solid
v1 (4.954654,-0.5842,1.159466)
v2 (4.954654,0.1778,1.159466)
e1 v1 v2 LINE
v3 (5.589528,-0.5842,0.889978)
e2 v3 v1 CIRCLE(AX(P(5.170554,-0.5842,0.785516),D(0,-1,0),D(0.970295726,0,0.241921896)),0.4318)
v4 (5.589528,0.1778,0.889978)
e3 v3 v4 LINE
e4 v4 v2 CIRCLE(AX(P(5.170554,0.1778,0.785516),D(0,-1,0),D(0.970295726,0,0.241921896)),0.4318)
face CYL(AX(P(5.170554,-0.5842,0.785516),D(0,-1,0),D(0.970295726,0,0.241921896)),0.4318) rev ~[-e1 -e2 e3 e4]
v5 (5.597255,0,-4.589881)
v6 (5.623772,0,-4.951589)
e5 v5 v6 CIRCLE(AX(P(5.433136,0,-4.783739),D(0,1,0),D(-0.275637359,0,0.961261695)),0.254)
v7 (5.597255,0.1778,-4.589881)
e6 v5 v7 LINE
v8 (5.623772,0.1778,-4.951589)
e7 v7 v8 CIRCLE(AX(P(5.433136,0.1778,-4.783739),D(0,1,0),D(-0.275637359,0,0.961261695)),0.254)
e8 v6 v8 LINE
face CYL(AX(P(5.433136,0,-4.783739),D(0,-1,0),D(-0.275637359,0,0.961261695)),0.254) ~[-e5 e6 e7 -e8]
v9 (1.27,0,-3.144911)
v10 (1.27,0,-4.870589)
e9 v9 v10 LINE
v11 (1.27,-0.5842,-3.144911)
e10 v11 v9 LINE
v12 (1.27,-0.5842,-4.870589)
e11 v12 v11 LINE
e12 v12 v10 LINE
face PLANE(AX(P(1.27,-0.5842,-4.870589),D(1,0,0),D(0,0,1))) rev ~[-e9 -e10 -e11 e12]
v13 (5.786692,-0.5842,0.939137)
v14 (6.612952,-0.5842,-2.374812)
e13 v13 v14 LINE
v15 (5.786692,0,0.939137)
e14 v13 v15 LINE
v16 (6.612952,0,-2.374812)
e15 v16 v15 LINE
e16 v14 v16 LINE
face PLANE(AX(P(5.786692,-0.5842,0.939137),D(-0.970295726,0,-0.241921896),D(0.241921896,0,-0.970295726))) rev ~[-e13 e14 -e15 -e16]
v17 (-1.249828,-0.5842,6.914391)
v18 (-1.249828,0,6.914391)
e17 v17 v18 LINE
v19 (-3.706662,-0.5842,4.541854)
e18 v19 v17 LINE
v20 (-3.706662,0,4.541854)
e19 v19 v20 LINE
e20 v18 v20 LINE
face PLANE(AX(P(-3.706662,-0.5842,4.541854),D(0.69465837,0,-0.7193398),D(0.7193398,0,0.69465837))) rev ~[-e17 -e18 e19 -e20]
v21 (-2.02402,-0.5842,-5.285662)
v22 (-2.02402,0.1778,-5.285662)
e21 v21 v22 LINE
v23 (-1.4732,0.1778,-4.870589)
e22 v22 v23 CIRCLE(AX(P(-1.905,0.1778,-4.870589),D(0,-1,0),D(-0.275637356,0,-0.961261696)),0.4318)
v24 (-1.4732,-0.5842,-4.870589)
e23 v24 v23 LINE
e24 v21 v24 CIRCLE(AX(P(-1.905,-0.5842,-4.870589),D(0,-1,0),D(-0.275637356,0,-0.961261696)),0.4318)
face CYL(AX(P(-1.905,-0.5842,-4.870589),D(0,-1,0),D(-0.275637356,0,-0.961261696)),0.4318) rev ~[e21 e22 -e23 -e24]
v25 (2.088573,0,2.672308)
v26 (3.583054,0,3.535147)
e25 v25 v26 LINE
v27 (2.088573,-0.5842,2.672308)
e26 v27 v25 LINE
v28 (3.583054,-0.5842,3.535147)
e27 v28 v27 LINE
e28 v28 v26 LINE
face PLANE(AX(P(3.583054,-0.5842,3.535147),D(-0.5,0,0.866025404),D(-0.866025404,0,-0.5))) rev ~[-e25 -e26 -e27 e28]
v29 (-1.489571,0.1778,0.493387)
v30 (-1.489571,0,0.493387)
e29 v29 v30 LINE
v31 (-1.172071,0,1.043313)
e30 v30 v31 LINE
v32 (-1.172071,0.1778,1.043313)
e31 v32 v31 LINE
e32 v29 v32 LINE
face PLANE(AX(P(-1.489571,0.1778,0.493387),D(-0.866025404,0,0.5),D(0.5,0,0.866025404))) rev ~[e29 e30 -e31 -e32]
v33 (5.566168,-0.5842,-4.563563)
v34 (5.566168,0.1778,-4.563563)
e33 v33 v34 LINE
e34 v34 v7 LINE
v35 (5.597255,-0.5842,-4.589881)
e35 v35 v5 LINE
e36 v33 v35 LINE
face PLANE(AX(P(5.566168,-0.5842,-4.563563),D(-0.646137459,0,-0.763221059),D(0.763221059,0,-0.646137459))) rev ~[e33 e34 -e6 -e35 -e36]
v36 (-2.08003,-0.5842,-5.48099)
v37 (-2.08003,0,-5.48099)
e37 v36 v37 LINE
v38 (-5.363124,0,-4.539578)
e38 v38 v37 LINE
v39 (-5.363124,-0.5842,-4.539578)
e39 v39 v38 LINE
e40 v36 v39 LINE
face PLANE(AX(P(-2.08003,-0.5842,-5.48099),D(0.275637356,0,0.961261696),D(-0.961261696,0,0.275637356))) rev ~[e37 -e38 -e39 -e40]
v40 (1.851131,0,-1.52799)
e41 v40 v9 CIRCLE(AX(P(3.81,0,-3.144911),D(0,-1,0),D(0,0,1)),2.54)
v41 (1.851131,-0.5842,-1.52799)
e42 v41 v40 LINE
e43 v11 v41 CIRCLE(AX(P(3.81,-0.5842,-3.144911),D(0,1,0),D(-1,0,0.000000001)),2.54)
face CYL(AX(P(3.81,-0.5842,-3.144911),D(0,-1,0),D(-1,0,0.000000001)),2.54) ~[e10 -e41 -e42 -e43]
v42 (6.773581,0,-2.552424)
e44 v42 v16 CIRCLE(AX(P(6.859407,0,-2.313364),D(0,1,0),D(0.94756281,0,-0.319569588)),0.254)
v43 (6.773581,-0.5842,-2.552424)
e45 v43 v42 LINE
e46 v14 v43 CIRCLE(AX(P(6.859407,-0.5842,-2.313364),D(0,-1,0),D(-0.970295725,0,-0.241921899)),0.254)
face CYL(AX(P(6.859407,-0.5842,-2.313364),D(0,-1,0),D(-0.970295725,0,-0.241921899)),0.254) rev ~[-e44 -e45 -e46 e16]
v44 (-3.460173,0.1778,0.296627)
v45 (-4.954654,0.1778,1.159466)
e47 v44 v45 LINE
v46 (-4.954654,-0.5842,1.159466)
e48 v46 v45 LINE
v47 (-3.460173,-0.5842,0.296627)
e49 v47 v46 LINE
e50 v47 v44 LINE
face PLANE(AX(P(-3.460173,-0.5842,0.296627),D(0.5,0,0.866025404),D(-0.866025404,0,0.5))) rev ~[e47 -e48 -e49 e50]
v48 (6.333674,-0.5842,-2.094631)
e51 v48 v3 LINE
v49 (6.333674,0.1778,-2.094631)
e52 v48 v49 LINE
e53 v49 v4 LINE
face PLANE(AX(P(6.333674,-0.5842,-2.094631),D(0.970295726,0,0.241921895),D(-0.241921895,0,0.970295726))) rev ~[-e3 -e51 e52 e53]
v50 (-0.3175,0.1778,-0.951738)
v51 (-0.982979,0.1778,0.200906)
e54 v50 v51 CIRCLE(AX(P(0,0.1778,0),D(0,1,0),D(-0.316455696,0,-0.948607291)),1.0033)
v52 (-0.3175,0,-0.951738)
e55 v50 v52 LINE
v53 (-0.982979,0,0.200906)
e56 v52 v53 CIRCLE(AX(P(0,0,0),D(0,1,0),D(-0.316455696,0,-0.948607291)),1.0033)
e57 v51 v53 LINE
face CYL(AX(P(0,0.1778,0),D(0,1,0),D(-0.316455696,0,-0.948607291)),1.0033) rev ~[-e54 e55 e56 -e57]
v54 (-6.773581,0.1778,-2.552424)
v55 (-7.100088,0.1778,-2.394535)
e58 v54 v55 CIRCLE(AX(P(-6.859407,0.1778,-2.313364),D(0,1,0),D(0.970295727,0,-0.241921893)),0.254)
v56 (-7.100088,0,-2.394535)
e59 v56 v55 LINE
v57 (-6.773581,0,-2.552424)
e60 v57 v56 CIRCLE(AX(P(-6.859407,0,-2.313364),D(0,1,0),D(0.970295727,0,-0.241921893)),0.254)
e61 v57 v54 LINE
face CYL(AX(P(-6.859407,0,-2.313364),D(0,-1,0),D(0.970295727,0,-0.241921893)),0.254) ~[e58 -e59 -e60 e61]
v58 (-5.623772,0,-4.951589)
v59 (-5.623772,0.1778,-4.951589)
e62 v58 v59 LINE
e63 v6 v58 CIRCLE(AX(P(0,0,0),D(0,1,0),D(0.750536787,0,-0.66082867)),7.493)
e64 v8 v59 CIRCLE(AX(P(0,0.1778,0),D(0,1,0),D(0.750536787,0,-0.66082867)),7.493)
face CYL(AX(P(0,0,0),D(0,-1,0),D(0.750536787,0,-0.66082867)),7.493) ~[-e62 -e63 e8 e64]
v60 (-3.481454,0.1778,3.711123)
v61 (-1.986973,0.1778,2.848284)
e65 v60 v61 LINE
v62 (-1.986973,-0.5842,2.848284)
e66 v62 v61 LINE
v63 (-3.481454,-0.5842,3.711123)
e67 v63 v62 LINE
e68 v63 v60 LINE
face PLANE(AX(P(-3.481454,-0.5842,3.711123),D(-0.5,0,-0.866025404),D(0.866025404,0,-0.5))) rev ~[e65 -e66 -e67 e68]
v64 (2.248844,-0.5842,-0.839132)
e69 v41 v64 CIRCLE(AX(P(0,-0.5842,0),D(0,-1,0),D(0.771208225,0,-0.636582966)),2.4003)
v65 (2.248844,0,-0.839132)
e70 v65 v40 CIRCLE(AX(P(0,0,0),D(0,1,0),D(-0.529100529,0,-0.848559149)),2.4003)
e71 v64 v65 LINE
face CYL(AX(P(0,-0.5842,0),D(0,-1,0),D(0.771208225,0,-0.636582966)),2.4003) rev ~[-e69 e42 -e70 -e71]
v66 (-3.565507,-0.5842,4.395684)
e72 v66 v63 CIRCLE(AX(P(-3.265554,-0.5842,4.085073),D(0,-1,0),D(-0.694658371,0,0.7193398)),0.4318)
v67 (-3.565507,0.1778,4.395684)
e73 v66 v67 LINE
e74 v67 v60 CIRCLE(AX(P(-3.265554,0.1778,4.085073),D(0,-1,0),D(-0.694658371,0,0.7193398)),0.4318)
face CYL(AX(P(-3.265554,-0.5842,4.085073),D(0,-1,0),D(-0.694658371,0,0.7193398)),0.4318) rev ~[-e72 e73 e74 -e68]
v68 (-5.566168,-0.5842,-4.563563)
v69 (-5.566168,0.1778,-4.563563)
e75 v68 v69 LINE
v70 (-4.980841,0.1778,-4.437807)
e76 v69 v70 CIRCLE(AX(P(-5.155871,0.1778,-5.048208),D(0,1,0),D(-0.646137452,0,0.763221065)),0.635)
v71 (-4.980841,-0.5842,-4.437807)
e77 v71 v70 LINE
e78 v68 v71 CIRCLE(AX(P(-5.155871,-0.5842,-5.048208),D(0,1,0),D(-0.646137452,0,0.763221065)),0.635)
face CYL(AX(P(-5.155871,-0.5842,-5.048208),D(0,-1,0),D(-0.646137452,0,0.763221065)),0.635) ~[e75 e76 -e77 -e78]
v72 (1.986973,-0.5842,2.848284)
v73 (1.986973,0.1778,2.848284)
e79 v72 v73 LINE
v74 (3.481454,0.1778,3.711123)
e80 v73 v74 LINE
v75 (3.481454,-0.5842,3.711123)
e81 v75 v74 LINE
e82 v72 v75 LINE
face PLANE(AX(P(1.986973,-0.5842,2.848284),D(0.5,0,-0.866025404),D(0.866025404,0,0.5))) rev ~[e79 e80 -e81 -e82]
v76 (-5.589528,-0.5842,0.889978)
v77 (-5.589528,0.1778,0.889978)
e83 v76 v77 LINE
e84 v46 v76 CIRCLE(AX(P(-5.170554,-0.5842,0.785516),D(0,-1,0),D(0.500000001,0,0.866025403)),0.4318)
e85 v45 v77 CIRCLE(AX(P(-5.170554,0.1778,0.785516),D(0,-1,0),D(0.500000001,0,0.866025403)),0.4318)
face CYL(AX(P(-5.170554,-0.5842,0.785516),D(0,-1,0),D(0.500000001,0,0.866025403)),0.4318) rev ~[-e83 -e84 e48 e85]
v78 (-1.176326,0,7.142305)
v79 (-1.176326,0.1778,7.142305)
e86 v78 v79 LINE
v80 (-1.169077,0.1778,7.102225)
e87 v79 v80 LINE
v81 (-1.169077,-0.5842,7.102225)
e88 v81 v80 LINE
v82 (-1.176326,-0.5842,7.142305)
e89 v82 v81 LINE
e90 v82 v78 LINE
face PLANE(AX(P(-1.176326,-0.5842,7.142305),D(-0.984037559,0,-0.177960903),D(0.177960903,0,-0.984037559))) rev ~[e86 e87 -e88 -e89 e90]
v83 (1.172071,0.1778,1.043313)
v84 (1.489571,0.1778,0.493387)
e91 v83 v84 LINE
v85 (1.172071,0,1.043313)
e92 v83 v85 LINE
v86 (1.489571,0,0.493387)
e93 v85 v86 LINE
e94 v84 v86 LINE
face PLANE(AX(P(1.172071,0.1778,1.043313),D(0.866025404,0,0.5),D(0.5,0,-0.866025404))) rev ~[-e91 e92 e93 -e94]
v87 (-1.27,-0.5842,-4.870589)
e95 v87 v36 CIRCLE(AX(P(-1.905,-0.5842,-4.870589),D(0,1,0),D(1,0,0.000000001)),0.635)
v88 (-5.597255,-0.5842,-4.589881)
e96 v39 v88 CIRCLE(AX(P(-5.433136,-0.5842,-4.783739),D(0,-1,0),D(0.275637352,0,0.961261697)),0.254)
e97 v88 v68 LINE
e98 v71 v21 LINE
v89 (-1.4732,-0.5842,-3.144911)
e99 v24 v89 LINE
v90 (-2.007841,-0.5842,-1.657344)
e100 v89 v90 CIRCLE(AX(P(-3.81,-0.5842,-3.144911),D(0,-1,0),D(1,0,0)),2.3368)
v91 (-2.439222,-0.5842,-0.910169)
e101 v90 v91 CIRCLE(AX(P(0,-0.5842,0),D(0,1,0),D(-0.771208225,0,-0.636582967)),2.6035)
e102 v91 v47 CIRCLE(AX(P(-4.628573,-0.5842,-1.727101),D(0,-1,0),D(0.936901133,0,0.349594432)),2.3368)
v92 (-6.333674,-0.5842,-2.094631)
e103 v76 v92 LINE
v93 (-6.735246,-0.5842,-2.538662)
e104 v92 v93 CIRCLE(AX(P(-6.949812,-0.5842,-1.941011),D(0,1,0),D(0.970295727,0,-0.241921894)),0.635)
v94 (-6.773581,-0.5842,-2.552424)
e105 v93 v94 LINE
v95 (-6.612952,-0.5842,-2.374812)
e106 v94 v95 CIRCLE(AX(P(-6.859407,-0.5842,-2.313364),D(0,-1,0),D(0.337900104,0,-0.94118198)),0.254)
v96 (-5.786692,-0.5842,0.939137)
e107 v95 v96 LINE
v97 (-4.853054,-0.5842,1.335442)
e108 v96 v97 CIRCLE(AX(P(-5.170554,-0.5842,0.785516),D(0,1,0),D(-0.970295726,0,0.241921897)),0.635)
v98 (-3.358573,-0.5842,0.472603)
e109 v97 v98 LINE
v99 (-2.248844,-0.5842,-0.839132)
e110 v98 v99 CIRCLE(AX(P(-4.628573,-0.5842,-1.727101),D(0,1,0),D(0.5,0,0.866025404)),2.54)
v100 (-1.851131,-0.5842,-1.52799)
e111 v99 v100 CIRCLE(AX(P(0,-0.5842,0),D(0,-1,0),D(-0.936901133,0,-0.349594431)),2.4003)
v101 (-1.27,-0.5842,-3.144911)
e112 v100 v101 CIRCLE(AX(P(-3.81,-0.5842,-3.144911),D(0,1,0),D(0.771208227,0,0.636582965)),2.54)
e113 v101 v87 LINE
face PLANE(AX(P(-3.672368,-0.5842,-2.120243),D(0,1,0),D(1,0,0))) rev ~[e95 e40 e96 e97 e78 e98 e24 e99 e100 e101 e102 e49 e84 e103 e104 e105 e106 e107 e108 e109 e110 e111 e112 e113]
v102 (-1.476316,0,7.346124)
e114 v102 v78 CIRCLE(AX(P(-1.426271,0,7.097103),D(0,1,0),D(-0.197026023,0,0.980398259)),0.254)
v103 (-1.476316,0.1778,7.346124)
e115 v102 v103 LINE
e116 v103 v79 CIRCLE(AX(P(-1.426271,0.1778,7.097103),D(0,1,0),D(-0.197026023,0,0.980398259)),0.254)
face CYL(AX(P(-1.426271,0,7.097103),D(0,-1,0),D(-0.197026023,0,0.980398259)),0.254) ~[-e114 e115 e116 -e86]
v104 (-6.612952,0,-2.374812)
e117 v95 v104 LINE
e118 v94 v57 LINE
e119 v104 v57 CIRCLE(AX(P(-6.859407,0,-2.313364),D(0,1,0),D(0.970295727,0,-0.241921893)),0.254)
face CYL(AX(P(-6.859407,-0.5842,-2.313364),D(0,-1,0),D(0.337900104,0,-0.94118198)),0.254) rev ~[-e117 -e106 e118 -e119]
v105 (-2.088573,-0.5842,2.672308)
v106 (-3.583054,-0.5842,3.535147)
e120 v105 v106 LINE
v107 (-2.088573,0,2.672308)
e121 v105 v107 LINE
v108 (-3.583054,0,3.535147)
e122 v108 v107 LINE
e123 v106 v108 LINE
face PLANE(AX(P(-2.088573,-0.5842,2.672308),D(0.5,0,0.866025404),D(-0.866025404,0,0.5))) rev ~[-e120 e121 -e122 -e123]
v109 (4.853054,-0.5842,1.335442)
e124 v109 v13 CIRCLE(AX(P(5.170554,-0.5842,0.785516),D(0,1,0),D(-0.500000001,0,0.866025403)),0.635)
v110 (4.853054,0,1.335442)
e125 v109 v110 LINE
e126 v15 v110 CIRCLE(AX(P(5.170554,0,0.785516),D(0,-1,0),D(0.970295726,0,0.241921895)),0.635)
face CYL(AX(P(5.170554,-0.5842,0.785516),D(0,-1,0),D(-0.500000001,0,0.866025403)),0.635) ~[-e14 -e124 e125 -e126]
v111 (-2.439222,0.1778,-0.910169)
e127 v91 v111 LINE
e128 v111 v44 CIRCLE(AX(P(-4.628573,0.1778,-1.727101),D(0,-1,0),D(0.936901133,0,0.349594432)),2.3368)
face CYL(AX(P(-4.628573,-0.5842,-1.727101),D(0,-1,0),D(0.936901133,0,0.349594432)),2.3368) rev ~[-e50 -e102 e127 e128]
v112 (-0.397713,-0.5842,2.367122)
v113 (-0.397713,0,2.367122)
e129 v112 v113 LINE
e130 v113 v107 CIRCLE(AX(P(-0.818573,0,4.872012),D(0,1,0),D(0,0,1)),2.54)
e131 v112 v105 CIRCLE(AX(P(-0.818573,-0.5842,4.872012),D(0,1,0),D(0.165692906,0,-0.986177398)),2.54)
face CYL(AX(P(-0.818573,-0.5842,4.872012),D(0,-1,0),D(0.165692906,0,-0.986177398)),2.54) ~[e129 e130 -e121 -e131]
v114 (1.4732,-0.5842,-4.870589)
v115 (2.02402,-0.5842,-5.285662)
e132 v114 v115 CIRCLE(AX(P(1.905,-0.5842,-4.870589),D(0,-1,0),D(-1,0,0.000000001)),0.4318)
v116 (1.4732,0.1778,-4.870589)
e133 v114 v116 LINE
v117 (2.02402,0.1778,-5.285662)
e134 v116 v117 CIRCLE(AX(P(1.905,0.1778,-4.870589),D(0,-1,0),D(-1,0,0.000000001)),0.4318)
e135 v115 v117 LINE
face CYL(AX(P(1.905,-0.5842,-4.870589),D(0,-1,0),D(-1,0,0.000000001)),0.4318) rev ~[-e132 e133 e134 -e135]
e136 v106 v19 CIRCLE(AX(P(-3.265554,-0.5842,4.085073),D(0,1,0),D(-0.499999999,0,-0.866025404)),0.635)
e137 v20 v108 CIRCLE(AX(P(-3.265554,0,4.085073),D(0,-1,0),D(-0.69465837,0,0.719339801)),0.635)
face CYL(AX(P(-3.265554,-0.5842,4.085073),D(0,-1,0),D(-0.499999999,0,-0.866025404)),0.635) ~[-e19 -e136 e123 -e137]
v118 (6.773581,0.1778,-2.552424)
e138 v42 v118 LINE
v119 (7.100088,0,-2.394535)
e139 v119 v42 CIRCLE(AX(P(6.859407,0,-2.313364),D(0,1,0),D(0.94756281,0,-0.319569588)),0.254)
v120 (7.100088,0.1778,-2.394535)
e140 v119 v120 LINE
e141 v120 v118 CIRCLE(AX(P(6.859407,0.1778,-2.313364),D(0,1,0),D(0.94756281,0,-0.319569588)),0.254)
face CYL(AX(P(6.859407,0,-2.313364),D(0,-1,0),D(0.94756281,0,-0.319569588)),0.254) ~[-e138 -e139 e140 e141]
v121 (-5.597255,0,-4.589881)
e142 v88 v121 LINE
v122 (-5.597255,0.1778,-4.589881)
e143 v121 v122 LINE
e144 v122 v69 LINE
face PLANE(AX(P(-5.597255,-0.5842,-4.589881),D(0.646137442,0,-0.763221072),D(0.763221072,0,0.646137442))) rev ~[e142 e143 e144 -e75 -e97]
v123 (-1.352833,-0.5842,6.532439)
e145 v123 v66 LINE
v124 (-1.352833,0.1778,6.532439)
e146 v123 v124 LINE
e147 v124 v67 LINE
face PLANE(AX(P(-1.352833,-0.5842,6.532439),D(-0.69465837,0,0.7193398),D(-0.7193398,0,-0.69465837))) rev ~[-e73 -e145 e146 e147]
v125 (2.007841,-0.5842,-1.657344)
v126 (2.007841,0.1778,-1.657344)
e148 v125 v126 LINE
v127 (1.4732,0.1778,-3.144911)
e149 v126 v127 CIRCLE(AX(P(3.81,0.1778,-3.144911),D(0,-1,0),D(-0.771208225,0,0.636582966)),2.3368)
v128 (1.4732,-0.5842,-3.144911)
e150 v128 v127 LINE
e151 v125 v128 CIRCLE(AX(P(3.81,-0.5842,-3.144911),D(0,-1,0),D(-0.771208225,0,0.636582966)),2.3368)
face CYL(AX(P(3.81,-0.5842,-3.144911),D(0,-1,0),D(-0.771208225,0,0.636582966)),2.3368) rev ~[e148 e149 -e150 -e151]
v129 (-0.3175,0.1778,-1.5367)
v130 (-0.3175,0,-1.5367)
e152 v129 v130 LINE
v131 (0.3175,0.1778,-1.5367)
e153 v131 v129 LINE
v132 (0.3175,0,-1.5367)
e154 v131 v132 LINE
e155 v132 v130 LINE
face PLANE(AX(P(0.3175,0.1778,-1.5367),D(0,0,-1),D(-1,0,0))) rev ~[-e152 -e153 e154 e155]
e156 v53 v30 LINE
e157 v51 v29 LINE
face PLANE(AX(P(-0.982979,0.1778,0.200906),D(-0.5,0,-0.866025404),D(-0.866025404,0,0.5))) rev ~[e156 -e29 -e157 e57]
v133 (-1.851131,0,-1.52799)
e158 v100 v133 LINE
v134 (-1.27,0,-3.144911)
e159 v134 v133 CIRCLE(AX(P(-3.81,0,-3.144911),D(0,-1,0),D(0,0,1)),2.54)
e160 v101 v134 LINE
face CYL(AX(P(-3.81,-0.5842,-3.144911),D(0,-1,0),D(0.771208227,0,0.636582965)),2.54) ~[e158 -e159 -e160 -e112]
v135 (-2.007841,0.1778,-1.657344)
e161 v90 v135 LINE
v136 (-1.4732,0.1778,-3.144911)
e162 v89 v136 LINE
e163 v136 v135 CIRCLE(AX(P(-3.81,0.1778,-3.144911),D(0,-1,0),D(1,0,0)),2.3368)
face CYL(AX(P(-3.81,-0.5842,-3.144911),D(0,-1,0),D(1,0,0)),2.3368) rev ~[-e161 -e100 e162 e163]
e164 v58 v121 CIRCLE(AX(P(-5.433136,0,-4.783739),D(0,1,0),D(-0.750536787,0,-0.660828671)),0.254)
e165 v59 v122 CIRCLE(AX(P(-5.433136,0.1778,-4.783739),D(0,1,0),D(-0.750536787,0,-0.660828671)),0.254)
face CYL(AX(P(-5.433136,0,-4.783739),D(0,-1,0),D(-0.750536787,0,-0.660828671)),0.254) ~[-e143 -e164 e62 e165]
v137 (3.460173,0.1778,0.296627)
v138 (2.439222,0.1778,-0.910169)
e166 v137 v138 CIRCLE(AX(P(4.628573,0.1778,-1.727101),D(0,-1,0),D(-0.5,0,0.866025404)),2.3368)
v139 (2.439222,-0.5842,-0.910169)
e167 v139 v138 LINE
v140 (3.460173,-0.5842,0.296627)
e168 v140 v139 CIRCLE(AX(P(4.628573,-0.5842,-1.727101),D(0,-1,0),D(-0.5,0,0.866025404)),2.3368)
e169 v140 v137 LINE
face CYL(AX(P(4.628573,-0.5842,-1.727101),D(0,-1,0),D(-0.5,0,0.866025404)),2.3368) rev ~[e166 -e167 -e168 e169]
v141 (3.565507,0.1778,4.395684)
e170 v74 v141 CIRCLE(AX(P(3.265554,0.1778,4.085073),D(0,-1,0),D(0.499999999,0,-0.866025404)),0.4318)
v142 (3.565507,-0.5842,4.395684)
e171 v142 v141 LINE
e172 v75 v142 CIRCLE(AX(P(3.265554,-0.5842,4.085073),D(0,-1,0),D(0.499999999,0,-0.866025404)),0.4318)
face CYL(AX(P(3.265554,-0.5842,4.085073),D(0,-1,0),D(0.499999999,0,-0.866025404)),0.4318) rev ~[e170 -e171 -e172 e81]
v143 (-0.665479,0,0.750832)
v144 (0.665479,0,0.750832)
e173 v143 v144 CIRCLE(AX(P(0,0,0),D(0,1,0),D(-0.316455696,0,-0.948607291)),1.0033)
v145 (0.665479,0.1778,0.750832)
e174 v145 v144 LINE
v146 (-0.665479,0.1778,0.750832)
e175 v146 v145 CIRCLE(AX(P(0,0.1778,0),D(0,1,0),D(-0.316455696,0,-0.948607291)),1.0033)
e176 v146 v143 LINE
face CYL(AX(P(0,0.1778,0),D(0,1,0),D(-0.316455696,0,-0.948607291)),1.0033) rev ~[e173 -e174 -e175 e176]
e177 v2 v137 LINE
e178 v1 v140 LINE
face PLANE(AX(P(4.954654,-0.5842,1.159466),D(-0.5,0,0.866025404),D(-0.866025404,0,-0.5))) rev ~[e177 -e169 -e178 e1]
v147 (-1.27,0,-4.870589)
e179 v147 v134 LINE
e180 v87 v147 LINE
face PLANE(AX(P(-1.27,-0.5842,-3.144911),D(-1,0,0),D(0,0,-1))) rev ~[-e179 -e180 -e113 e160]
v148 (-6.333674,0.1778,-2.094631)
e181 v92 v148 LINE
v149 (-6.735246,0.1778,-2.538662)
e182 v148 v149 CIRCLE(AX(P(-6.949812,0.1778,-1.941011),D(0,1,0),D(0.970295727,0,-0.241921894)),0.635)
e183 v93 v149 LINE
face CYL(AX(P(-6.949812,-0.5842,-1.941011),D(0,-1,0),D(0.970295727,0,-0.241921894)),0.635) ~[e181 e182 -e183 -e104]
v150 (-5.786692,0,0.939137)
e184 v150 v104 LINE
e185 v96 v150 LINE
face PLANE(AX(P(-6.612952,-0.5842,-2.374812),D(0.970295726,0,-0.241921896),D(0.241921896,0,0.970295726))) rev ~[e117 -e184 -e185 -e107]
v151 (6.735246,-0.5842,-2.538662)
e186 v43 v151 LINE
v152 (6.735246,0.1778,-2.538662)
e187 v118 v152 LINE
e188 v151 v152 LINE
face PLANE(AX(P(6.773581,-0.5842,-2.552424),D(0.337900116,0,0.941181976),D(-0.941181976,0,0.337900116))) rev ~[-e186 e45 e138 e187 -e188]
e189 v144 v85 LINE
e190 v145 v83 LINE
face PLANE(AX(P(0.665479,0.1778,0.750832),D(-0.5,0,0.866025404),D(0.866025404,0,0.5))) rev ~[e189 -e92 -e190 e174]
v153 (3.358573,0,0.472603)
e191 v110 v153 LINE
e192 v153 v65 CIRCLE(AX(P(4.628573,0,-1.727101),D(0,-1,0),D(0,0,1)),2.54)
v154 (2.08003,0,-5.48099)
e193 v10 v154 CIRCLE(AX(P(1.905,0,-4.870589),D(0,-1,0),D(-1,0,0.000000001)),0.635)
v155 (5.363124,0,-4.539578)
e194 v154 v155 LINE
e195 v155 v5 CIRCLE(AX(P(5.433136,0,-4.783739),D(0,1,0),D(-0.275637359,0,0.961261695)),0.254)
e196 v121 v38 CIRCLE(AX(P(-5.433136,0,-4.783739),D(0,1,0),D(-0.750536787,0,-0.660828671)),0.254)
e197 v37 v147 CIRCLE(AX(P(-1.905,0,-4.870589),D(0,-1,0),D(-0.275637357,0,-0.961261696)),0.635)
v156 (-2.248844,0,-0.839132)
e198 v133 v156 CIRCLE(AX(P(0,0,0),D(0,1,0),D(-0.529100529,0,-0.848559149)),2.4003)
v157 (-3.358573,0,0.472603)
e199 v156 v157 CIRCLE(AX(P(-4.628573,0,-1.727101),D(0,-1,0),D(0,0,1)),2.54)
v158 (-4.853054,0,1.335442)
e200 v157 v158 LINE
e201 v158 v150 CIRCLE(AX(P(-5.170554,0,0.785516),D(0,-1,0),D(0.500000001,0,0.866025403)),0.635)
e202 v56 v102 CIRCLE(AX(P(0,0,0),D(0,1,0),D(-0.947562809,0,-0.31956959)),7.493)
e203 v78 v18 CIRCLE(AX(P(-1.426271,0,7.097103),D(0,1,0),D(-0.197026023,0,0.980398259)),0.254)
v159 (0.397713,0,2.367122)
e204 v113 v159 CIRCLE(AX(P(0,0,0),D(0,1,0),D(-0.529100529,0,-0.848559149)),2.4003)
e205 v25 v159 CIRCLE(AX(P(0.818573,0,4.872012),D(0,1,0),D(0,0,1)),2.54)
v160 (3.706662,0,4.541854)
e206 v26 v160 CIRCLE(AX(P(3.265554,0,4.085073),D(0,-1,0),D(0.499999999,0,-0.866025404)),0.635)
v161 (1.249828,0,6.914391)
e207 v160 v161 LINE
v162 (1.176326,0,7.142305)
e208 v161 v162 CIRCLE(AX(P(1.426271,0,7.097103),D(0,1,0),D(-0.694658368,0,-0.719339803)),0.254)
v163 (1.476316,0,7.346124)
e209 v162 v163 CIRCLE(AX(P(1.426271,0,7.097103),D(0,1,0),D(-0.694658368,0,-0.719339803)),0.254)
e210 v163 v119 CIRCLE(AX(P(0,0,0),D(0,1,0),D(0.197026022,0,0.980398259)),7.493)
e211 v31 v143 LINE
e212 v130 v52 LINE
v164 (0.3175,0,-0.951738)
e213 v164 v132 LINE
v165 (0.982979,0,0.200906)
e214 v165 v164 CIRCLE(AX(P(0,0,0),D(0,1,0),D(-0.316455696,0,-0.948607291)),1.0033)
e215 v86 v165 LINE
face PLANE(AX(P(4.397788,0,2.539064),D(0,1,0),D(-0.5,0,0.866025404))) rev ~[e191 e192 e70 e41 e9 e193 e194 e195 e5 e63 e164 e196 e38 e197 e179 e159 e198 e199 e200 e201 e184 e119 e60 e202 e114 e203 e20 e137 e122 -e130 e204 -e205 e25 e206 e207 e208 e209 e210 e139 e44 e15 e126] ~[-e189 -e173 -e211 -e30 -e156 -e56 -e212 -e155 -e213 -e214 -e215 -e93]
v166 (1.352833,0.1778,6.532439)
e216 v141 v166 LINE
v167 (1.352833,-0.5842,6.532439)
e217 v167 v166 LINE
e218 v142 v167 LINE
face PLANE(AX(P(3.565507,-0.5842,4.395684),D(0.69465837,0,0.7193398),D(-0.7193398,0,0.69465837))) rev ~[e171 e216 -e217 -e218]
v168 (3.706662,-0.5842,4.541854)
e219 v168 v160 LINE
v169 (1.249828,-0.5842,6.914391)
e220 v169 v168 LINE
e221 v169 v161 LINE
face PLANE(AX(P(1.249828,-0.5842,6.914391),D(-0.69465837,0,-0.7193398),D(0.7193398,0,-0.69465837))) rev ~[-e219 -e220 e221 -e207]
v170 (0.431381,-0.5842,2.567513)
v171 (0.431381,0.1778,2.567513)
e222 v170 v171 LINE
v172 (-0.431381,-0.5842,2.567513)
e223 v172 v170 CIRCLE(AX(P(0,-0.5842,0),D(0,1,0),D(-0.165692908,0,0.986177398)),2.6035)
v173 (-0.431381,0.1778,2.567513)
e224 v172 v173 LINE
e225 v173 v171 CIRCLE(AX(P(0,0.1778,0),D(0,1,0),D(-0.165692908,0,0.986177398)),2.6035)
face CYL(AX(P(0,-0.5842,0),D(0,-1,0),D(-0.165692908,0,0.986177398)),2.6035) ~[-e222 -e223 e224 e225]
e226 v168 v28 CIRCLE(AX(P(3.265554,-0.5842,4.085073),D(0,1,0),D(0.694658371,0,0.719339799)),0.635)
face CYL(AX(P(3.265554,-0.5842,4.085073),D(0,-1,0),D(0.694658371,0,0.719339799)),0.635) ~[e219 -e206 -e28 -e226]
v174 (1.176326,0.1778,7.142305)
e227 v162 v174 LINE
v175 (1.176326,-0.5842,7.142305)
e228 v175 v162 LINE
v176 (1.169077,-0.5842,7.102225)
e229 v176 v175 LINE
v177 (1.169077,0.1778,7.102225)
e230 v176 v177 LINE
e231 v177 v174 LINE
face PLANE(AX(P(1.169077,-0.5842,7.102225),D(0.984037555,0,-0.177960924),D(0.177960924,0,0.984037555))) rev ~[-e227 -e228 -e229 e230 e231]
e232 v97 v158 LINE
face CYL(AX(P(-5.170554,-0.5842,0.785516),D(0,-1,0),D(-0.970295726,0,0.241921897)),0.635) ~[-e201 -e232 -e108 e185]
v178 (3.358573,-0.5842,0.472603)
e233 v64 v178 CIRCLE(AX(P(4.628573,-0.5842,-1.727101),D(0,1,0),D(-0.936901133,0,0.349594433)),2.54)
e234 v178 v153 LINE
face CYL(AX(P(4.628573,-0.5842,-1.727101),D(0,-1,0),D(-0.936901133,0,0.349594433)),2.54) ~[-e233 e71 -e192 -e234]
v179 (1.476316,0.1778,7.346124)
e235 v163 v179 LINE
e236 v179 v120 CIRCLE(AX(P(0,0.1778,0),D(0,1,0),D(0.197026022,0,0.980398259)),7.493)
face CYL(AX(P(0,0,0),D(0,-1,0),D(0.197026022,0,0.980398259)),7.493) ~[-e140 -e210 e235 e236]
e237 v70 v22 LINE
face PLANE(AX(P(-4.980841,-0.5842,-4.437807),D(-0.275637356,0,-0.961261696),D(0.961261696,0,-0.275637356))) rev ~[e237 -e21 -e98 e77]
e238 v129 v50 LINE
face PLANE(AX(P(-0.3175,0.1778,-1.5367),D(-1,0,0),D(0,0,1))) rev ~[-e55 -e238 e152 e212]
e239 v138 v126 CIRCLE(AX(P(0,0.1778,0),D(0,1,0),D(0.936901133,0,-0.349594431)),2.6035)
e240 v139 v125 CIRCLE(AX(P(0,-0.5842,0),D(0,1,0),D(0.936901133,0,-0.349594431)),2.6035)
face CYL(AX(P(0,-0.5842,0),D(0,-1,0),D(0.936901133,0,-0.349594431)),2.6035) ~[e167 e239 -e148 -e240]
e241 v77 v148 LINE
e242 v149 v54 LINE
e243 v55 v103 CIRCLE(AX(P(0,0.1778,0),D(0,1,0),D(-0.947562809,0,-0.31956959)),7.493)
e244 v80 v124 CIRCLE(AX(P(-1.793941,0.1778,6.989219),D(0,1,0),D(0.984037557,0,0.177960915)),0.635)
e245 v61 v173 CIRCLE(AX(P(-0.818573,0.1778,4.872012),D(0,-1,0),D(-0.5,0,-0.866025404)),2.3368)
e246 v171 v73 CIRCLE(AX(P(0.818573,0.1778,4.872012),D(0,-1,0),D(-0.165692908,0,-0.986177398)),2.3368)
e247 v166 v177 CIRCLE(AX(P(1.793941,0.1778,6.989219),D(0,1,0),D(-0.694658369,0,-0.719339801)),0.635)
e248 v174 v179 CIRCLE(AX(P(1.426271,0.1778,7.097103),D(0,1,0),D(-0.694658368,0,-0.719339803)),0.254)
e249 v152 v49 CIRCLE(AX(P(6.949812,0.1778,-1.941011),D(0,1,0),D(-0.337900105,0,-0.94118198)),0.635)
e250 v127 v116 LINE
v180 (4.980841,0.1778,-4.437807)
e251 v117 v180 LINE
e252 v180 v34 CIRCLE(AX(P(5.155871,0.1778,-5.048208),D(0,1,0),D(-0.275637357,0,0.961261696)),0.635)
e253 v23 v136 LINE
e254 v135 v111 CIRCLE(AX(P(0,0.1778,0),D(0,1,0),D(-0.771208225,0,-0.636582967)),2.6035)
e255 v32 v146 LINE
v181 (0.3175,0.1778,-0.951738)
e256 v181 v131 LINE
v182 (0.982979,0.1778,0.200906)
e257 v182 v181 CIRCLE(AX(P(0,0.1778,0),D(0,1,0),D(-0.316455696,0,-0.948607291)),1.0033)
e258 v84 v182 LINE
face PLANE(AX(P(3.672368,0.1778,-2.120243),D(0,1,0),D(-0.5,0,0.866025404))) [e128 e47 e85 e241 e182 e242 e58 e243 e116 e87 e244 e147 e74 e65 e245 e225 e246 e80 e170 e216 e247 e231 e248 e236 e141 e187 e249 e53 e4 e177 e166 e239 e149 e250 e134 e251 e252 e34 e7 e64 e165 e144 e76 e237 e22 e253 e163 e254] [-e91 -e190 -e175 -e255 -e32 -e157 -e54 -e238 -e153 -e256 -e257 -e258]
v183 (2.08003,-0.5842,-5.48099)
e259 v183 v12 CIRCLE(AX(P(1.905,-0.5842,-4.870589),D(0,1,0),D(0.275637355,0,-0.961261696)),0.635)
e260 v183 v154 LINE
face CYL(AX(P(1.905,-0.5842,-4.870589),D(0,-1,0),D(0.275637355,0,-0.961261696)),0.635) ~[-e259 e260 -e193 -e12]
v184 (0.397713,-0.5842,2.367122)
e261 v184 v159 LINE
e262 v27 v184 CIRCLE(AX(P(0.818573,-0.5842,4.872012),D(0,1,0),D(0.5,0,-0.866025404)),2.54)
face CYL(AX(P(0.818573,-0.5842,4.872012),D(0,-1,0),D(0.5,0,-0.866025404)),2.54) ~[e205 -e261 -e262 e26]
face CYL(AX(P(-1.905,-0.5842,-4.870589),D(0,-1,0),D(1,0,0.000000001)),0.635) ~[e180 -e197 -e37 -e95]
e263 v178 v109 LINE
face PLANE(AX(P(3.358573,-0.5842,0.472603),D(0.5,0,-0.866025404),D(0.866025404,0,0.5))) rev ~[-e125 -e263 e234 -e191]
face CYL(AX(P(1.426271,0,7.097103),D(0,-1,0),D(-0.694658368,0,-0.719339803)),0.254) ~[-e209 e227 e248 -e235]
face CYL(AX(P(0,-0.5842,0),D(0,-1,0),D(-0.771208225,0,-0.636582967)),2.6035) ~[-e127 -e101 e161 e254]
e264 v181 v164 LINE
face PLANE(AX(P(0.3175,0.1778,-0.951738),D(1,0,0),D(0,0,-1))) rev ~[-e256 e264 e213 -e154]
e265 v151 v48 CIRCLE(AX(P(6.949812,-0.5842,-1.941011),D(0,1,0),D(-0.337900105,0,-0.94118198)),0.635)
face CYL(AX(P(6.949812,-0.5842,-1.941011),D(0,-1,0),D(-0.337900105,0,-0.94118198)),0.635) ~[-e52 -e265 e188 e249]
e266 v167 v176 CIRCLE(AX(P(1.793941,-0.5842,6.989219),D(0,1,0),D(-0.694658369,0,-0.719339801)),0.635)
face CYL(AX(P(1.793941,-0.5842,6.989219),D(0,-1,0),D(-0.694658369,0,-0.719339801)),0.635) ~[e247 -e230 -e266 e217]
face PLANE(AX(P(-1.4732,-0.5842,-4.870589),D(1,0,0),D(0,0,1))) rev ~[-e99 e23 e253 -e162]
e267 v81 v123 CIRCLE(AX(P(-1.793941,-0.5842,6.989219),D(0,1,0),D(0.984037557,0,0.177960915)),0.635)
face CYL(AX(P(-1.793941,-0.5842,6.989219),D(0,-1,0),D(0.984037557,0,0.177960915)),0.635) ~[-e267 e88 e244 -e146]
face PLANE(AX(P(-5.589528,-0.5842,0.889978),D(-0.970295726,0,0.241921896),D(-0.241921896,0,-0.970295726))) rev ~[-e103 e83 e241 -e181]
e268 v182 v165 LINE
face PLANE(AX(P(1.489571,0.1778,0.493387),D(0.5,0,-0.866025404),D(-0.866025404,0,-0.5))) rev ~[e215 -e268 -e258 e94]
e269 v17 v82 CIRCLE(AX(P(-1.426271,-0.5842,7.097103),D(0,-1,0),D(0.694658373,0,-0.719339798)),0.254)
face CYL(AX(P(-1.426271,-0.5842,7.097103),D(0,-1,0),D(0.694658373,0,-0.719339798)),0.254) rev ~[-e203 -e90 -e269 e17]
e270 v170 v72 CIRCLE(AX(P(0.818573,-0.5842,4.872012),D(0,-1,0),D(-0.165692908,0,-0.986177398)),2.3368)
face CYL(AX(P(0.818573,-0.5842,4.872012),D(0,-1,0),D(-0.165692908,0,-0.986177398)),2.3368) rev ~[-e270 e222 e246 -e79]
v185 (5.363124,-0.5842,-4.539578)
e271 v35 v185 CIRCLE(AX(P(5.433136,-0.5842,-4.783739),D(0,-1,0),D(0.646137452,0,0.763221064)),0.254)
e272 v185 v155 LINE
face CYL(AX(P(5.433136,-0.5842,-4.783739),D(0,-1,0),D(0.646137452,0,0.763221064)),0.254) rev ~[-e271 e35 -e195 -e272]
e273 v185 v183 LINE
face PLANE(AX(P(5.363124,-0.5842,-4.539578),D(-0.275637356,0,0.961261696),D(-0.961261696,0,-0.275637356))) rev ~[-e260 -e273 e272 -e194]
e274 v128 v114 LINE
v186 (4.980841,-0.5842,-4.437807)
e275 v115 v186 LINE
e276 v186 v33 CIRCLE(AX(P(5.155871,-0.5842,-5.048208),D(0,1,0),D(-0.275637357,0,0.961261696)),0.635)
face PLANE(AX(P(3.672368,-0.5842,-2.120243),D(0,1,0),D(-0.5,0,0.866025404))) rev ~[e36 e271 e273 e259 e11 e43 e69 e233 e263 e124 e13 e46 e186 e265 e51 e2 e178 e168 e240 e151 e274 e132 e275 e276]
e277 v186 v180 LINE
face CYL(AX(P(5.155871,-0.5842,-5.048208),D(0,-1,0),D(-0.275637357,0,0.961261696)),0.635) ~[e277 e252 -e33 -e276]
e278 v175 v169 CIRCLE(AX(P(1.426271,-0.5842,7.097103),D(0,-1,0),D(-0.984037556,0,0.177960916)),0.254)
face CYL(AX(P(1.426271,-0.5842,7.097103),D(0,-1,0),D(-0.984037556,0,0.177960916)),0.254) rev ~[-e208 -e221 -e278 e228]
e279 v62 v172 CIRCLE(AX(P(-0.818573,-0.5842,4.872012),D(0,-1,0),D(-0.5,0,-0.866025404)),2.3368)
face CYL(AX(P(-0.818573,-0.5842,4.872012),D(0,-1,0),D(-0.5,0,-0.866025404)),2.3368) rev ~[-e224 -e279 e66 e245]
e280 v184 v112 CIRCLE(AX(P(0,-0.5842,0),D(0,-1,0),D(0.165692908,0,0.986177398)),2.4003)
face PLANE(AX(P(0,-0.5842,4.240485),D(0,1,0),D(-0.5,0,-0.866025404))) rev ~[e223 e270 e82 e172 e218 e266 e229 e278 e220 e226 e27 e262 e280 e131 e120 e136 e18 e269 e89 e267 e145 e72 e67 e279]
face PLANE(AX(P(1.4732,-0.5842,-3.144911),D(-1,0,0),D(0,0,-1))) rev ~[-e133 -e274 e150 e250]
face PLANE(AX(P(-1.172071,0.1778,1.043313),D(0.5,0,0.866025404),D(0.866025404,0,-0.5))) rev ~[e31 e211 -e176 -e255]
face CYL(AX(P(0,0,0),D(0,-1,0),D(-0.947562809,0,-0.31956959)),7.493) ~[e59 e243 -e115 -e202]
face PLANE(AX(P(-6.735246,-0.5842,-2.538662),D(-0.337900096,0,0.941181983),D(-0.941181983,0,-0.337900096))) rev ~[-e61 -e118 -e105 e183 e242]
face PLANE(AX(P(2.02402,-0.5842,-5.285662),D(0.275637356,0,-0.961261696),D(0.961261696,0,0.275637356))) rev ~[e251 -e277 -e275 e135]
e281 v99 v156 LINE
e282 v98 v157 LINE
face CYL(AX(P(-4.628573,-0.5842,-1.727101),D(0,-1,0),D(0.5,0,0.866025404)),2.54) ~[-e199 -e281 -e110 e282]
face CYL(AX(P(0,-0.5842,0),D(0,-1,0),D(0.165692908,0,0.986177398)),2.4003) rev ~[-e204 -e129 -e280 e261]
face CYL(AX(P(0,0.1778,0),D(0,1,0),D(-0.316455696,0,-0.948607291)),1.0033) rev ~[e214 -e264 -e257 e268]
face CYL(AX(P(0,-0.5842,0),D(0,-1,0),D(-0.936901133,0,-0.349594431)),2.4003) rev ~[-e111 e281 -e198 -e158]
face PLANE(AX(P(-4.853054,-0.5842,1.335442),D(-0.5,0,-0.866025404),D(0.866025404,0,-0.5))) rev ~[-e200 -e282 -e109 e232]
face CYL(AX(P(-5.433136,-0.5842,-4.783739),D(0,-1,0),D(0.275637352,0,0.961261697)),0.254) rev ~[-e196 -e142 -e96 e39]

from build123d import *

# Parameters (mm, degrees)
SKETCH1_R           = 2.4003
BOSS_EXTRUDE1_DEPTH = 0.1778
CIRPATTERN1_COUNT   = 3
SKETCH2_R           = 1.0033
CUT_EXTRUDE3_DEPTH  = 11.598193754
CIRPATTERN2_COUNT   = 3
FILLET1_R           = 2.54
BOSS_EXTRUDE2_START = -0.762
BOSS_EXTRUDE2_DEPTH = 0.762
CIRPATTERN3_COUNT   = 3


with BuildPart() as part:
    # Sketch1 → Boss-Extrude1 (new body)
    with BuildSketch(Plane(origin=(0, 0, 0), x_dir=(1, 0, 0), z_dir=(0, 1, 0))):
        with BuildLine():
            ThreePointArc((-2.080029721, 5.48099038), (-1.52284746, 5.377722752), (-1.27, 4.870589203))
            Line((-1.27, 4.870589203), (-1.27, 2.036796526))
            ThreePointArc((-1.27, 2.036796526), (0, 2.4003), (1.27, 2.036796526))
            Line((1.27, 2.036796526), (1.27, 4.870589203))
            ThreePointArc((1.27, 4.870589203), (1.52284746, 5.377722752), (2.080029721, 5.48099038))
            Line((2.080029721, 5.48099038), (5.363123917, 4.539578268))
            ThreePointArc((5.363123917, 4.539578268), (5.647788598, 4.647944118), (5.62377215, 4.951589221))
            ThreePointArc((5.62377215, 4.951589221), (0, 7.493), (-5.62377215, 4.951589221))
            ThreePointArc((-5.62377215, 4.951589221), (-5.647788598, 4.647944118), (-5.363123917, 4.539578268))
            Line((-5.363123917, 4.539578268), (-2.080029721, 5.48099038))
        make_face()
        Circle(SKETCH1_R)
    boss_extrude1 = extrude(amount=BOSS_EXTRUDE1_DEPTH)

    # CirPattern1: Boss-Extrude1 ×3 about axis
    cirpattern1_axis = Axis((0, 0, 0), (0, 1, 0))
    for i in range(1, CIRPATTERN1_COUNT):
        add(boss_extrude1.rotate(cirpattern1_axis, i * 360 / CIRPATTERN1_COUNT))

    # Sketch2 → Cut-Extrude3 (cut, through all)
    with BuildSketch(Plane(origin=(0, 0.1778, 0), x_dir=(1, 0, 0), z_dir=(0, 1, 0))):
        Circle(SKETCH2_R)
        with BuildLine():
            Line((0.3175, 0.951737695), (0.3175, 1.5367))
            Line((0.3175, 1.5367), (-0.3175, 1.5367))
            Line((-0.3175, 1.5367), (-0.3175, 0.951737695))
            ThreePointArc((-0.3175, 0.951737695), (0, 1.0033), (0.3175, 0.951737695))
        make_face()
    cut_extrude3 = extrude(amount=-CUT_EXTRUDE3_DEPTH, mode=Mode.SUBTRACT)

    # CirPattern2: Cut-Extrude3 ×3 about axis
    cirpattern2_axis = Axis((0, 0, 0), (0, 1, 0))
    for i in range(1, CIRPATTERN2_COUNT):
        add(cut_extrude3.rotate(cirpattern2_axis, i * 360 / CIRPATTERN2_COUNT), mode=Mode.SUBTRACT)

    # Fillet1
    fillet1_edges = [part.edges().sort_by_distance(p)[0] for p in [
        (1.27, 0.0889, -2.036796526),
        (-1.27, 0.0889, -2.036796526),
        (2.398917534, 0.0889, -0.081454),
        (-1.128917534, 0.0889, 2.118250526),
        (-2.398917534, 0.0889, -0.081454),
        (1.128917534, 0.0889, 2.118250526),
    ]]
    fillet(fillet1_edges, radius=FILLET1_R)

    # Sketch3 → Boss-Extrude2 (add)
    with BuildSketch(Plane(origin=(0, 0.1778, 0), x_dir=(1, 0, 0), z_dir=(0, 1, 0)).offset(BOSS_EXTRUDE2_START)):
        with BuildLine():
            Line((-4.980841253, 4.437807212), (-2.02402021, 5.285662003))
            ThreePointArc((-2.02402021, 5.285662003), (-1.645136273, 5.215440016), (-1.4732, 4.870589203))
            Line((-1.4732, 4.870589203), (-1.4732, 3.144910824))
            ThreePointArc((-1.4732, 3.144910824), (-1.610918341, 2.354547555), (-2.007840617, 1.65734375))
            ThreePointArc((-2.007840617, 1.65734375), (-2.254697139, 1.30175), (-2.439222099, 0.910169106))
            ThreePointArc((-2.439222099, 0.910169106), (-2.844557167, 0.217822429), (-3.460172666, -0.296626787))
            Line((-3.460172666, -0.296626787), (-4.954653981, -1.159465976))
            ThreePointArc((-4.954653981, -1.159465976), (-5.339271682, -1.182990203), (-5.589527676, -0.889978082))
            Line((-5.589527676, -0.889978082), (-6.33367441, 2.094631451))
            ThreePointArc((-6.33367441, 2.094631451), (-6.478847097, 2.366941647), (-6.73524563, 2.538661605))
            Line((-6.73524563, 2.538661605), (-6.773580549, 2.552424483))
            ThreePointArc((-6.773580549, 2.552424483), (-6.671021136, 2.4837365), (-6.612952061, 2.374812422))
            Line((-6.612952061, 2.374812422), (-5.786691767, -0.939136611))
            ThreePointArc((-5.786691767, -0.939136611), (-5.418668247, -1.370036789), (-4.853053981, -1.335442339))
            Line((-4.853053981, -1.335442339), (-3.358572666, -0.472603149))
            ThreePointArc((-3.358572666, -0.472603149), (-2.689425385, 0.086580782), (-2.248843789, 0.839131517))
            ThreePointArc((-2.248843789, 0.839131517), (-2.078720777, 1.20015), (-1.851131105, 1.527990092))
            ThreePointArc((-1.851131105, 1.527990092), (-1.419693849, 2.285820314), (-1.27, 3.144910824))
            Line((-1.27, 3.144910824), (-1.27, 4.870589203))
            ThreePointArc((-1.27, 4.870589203), (-1.52284746, 5.377722752), (-2.080029721, 5.48099038))
            Line((-2.080029721, 5.48099038), (-5.363123917, 4.539578268))
            ThreePointArc((-5.363123917, 4.539578268), (-5.486489473, 4.535405523), (-5.597254718, 4.589880588))
            Line((-5.597254718, 4.589880588), (-5.566168256, 4.563563014))
            ThreePointArc((-5.566168256, 4.563563014), (-5.289255144, 4.42737535), (-4.980841253, 4.437807212))
        make_face()
    boss_extrude2 = extrude(amount=BOSS_EXTRUDE2_DEPTH)

    # CirPattern3: Boss-Extrude2 ×3 about axis
    cirpattern3_axis = Axis((0, 0, 0), (0, 1, 0))
    for i in range(1, CIRPATTERN3_COUNT):
        add(boss_extrude2.rotate(cirpattern3_axis, i * 360 / CIRPATTERN3_COUNT))


solid = part.part
